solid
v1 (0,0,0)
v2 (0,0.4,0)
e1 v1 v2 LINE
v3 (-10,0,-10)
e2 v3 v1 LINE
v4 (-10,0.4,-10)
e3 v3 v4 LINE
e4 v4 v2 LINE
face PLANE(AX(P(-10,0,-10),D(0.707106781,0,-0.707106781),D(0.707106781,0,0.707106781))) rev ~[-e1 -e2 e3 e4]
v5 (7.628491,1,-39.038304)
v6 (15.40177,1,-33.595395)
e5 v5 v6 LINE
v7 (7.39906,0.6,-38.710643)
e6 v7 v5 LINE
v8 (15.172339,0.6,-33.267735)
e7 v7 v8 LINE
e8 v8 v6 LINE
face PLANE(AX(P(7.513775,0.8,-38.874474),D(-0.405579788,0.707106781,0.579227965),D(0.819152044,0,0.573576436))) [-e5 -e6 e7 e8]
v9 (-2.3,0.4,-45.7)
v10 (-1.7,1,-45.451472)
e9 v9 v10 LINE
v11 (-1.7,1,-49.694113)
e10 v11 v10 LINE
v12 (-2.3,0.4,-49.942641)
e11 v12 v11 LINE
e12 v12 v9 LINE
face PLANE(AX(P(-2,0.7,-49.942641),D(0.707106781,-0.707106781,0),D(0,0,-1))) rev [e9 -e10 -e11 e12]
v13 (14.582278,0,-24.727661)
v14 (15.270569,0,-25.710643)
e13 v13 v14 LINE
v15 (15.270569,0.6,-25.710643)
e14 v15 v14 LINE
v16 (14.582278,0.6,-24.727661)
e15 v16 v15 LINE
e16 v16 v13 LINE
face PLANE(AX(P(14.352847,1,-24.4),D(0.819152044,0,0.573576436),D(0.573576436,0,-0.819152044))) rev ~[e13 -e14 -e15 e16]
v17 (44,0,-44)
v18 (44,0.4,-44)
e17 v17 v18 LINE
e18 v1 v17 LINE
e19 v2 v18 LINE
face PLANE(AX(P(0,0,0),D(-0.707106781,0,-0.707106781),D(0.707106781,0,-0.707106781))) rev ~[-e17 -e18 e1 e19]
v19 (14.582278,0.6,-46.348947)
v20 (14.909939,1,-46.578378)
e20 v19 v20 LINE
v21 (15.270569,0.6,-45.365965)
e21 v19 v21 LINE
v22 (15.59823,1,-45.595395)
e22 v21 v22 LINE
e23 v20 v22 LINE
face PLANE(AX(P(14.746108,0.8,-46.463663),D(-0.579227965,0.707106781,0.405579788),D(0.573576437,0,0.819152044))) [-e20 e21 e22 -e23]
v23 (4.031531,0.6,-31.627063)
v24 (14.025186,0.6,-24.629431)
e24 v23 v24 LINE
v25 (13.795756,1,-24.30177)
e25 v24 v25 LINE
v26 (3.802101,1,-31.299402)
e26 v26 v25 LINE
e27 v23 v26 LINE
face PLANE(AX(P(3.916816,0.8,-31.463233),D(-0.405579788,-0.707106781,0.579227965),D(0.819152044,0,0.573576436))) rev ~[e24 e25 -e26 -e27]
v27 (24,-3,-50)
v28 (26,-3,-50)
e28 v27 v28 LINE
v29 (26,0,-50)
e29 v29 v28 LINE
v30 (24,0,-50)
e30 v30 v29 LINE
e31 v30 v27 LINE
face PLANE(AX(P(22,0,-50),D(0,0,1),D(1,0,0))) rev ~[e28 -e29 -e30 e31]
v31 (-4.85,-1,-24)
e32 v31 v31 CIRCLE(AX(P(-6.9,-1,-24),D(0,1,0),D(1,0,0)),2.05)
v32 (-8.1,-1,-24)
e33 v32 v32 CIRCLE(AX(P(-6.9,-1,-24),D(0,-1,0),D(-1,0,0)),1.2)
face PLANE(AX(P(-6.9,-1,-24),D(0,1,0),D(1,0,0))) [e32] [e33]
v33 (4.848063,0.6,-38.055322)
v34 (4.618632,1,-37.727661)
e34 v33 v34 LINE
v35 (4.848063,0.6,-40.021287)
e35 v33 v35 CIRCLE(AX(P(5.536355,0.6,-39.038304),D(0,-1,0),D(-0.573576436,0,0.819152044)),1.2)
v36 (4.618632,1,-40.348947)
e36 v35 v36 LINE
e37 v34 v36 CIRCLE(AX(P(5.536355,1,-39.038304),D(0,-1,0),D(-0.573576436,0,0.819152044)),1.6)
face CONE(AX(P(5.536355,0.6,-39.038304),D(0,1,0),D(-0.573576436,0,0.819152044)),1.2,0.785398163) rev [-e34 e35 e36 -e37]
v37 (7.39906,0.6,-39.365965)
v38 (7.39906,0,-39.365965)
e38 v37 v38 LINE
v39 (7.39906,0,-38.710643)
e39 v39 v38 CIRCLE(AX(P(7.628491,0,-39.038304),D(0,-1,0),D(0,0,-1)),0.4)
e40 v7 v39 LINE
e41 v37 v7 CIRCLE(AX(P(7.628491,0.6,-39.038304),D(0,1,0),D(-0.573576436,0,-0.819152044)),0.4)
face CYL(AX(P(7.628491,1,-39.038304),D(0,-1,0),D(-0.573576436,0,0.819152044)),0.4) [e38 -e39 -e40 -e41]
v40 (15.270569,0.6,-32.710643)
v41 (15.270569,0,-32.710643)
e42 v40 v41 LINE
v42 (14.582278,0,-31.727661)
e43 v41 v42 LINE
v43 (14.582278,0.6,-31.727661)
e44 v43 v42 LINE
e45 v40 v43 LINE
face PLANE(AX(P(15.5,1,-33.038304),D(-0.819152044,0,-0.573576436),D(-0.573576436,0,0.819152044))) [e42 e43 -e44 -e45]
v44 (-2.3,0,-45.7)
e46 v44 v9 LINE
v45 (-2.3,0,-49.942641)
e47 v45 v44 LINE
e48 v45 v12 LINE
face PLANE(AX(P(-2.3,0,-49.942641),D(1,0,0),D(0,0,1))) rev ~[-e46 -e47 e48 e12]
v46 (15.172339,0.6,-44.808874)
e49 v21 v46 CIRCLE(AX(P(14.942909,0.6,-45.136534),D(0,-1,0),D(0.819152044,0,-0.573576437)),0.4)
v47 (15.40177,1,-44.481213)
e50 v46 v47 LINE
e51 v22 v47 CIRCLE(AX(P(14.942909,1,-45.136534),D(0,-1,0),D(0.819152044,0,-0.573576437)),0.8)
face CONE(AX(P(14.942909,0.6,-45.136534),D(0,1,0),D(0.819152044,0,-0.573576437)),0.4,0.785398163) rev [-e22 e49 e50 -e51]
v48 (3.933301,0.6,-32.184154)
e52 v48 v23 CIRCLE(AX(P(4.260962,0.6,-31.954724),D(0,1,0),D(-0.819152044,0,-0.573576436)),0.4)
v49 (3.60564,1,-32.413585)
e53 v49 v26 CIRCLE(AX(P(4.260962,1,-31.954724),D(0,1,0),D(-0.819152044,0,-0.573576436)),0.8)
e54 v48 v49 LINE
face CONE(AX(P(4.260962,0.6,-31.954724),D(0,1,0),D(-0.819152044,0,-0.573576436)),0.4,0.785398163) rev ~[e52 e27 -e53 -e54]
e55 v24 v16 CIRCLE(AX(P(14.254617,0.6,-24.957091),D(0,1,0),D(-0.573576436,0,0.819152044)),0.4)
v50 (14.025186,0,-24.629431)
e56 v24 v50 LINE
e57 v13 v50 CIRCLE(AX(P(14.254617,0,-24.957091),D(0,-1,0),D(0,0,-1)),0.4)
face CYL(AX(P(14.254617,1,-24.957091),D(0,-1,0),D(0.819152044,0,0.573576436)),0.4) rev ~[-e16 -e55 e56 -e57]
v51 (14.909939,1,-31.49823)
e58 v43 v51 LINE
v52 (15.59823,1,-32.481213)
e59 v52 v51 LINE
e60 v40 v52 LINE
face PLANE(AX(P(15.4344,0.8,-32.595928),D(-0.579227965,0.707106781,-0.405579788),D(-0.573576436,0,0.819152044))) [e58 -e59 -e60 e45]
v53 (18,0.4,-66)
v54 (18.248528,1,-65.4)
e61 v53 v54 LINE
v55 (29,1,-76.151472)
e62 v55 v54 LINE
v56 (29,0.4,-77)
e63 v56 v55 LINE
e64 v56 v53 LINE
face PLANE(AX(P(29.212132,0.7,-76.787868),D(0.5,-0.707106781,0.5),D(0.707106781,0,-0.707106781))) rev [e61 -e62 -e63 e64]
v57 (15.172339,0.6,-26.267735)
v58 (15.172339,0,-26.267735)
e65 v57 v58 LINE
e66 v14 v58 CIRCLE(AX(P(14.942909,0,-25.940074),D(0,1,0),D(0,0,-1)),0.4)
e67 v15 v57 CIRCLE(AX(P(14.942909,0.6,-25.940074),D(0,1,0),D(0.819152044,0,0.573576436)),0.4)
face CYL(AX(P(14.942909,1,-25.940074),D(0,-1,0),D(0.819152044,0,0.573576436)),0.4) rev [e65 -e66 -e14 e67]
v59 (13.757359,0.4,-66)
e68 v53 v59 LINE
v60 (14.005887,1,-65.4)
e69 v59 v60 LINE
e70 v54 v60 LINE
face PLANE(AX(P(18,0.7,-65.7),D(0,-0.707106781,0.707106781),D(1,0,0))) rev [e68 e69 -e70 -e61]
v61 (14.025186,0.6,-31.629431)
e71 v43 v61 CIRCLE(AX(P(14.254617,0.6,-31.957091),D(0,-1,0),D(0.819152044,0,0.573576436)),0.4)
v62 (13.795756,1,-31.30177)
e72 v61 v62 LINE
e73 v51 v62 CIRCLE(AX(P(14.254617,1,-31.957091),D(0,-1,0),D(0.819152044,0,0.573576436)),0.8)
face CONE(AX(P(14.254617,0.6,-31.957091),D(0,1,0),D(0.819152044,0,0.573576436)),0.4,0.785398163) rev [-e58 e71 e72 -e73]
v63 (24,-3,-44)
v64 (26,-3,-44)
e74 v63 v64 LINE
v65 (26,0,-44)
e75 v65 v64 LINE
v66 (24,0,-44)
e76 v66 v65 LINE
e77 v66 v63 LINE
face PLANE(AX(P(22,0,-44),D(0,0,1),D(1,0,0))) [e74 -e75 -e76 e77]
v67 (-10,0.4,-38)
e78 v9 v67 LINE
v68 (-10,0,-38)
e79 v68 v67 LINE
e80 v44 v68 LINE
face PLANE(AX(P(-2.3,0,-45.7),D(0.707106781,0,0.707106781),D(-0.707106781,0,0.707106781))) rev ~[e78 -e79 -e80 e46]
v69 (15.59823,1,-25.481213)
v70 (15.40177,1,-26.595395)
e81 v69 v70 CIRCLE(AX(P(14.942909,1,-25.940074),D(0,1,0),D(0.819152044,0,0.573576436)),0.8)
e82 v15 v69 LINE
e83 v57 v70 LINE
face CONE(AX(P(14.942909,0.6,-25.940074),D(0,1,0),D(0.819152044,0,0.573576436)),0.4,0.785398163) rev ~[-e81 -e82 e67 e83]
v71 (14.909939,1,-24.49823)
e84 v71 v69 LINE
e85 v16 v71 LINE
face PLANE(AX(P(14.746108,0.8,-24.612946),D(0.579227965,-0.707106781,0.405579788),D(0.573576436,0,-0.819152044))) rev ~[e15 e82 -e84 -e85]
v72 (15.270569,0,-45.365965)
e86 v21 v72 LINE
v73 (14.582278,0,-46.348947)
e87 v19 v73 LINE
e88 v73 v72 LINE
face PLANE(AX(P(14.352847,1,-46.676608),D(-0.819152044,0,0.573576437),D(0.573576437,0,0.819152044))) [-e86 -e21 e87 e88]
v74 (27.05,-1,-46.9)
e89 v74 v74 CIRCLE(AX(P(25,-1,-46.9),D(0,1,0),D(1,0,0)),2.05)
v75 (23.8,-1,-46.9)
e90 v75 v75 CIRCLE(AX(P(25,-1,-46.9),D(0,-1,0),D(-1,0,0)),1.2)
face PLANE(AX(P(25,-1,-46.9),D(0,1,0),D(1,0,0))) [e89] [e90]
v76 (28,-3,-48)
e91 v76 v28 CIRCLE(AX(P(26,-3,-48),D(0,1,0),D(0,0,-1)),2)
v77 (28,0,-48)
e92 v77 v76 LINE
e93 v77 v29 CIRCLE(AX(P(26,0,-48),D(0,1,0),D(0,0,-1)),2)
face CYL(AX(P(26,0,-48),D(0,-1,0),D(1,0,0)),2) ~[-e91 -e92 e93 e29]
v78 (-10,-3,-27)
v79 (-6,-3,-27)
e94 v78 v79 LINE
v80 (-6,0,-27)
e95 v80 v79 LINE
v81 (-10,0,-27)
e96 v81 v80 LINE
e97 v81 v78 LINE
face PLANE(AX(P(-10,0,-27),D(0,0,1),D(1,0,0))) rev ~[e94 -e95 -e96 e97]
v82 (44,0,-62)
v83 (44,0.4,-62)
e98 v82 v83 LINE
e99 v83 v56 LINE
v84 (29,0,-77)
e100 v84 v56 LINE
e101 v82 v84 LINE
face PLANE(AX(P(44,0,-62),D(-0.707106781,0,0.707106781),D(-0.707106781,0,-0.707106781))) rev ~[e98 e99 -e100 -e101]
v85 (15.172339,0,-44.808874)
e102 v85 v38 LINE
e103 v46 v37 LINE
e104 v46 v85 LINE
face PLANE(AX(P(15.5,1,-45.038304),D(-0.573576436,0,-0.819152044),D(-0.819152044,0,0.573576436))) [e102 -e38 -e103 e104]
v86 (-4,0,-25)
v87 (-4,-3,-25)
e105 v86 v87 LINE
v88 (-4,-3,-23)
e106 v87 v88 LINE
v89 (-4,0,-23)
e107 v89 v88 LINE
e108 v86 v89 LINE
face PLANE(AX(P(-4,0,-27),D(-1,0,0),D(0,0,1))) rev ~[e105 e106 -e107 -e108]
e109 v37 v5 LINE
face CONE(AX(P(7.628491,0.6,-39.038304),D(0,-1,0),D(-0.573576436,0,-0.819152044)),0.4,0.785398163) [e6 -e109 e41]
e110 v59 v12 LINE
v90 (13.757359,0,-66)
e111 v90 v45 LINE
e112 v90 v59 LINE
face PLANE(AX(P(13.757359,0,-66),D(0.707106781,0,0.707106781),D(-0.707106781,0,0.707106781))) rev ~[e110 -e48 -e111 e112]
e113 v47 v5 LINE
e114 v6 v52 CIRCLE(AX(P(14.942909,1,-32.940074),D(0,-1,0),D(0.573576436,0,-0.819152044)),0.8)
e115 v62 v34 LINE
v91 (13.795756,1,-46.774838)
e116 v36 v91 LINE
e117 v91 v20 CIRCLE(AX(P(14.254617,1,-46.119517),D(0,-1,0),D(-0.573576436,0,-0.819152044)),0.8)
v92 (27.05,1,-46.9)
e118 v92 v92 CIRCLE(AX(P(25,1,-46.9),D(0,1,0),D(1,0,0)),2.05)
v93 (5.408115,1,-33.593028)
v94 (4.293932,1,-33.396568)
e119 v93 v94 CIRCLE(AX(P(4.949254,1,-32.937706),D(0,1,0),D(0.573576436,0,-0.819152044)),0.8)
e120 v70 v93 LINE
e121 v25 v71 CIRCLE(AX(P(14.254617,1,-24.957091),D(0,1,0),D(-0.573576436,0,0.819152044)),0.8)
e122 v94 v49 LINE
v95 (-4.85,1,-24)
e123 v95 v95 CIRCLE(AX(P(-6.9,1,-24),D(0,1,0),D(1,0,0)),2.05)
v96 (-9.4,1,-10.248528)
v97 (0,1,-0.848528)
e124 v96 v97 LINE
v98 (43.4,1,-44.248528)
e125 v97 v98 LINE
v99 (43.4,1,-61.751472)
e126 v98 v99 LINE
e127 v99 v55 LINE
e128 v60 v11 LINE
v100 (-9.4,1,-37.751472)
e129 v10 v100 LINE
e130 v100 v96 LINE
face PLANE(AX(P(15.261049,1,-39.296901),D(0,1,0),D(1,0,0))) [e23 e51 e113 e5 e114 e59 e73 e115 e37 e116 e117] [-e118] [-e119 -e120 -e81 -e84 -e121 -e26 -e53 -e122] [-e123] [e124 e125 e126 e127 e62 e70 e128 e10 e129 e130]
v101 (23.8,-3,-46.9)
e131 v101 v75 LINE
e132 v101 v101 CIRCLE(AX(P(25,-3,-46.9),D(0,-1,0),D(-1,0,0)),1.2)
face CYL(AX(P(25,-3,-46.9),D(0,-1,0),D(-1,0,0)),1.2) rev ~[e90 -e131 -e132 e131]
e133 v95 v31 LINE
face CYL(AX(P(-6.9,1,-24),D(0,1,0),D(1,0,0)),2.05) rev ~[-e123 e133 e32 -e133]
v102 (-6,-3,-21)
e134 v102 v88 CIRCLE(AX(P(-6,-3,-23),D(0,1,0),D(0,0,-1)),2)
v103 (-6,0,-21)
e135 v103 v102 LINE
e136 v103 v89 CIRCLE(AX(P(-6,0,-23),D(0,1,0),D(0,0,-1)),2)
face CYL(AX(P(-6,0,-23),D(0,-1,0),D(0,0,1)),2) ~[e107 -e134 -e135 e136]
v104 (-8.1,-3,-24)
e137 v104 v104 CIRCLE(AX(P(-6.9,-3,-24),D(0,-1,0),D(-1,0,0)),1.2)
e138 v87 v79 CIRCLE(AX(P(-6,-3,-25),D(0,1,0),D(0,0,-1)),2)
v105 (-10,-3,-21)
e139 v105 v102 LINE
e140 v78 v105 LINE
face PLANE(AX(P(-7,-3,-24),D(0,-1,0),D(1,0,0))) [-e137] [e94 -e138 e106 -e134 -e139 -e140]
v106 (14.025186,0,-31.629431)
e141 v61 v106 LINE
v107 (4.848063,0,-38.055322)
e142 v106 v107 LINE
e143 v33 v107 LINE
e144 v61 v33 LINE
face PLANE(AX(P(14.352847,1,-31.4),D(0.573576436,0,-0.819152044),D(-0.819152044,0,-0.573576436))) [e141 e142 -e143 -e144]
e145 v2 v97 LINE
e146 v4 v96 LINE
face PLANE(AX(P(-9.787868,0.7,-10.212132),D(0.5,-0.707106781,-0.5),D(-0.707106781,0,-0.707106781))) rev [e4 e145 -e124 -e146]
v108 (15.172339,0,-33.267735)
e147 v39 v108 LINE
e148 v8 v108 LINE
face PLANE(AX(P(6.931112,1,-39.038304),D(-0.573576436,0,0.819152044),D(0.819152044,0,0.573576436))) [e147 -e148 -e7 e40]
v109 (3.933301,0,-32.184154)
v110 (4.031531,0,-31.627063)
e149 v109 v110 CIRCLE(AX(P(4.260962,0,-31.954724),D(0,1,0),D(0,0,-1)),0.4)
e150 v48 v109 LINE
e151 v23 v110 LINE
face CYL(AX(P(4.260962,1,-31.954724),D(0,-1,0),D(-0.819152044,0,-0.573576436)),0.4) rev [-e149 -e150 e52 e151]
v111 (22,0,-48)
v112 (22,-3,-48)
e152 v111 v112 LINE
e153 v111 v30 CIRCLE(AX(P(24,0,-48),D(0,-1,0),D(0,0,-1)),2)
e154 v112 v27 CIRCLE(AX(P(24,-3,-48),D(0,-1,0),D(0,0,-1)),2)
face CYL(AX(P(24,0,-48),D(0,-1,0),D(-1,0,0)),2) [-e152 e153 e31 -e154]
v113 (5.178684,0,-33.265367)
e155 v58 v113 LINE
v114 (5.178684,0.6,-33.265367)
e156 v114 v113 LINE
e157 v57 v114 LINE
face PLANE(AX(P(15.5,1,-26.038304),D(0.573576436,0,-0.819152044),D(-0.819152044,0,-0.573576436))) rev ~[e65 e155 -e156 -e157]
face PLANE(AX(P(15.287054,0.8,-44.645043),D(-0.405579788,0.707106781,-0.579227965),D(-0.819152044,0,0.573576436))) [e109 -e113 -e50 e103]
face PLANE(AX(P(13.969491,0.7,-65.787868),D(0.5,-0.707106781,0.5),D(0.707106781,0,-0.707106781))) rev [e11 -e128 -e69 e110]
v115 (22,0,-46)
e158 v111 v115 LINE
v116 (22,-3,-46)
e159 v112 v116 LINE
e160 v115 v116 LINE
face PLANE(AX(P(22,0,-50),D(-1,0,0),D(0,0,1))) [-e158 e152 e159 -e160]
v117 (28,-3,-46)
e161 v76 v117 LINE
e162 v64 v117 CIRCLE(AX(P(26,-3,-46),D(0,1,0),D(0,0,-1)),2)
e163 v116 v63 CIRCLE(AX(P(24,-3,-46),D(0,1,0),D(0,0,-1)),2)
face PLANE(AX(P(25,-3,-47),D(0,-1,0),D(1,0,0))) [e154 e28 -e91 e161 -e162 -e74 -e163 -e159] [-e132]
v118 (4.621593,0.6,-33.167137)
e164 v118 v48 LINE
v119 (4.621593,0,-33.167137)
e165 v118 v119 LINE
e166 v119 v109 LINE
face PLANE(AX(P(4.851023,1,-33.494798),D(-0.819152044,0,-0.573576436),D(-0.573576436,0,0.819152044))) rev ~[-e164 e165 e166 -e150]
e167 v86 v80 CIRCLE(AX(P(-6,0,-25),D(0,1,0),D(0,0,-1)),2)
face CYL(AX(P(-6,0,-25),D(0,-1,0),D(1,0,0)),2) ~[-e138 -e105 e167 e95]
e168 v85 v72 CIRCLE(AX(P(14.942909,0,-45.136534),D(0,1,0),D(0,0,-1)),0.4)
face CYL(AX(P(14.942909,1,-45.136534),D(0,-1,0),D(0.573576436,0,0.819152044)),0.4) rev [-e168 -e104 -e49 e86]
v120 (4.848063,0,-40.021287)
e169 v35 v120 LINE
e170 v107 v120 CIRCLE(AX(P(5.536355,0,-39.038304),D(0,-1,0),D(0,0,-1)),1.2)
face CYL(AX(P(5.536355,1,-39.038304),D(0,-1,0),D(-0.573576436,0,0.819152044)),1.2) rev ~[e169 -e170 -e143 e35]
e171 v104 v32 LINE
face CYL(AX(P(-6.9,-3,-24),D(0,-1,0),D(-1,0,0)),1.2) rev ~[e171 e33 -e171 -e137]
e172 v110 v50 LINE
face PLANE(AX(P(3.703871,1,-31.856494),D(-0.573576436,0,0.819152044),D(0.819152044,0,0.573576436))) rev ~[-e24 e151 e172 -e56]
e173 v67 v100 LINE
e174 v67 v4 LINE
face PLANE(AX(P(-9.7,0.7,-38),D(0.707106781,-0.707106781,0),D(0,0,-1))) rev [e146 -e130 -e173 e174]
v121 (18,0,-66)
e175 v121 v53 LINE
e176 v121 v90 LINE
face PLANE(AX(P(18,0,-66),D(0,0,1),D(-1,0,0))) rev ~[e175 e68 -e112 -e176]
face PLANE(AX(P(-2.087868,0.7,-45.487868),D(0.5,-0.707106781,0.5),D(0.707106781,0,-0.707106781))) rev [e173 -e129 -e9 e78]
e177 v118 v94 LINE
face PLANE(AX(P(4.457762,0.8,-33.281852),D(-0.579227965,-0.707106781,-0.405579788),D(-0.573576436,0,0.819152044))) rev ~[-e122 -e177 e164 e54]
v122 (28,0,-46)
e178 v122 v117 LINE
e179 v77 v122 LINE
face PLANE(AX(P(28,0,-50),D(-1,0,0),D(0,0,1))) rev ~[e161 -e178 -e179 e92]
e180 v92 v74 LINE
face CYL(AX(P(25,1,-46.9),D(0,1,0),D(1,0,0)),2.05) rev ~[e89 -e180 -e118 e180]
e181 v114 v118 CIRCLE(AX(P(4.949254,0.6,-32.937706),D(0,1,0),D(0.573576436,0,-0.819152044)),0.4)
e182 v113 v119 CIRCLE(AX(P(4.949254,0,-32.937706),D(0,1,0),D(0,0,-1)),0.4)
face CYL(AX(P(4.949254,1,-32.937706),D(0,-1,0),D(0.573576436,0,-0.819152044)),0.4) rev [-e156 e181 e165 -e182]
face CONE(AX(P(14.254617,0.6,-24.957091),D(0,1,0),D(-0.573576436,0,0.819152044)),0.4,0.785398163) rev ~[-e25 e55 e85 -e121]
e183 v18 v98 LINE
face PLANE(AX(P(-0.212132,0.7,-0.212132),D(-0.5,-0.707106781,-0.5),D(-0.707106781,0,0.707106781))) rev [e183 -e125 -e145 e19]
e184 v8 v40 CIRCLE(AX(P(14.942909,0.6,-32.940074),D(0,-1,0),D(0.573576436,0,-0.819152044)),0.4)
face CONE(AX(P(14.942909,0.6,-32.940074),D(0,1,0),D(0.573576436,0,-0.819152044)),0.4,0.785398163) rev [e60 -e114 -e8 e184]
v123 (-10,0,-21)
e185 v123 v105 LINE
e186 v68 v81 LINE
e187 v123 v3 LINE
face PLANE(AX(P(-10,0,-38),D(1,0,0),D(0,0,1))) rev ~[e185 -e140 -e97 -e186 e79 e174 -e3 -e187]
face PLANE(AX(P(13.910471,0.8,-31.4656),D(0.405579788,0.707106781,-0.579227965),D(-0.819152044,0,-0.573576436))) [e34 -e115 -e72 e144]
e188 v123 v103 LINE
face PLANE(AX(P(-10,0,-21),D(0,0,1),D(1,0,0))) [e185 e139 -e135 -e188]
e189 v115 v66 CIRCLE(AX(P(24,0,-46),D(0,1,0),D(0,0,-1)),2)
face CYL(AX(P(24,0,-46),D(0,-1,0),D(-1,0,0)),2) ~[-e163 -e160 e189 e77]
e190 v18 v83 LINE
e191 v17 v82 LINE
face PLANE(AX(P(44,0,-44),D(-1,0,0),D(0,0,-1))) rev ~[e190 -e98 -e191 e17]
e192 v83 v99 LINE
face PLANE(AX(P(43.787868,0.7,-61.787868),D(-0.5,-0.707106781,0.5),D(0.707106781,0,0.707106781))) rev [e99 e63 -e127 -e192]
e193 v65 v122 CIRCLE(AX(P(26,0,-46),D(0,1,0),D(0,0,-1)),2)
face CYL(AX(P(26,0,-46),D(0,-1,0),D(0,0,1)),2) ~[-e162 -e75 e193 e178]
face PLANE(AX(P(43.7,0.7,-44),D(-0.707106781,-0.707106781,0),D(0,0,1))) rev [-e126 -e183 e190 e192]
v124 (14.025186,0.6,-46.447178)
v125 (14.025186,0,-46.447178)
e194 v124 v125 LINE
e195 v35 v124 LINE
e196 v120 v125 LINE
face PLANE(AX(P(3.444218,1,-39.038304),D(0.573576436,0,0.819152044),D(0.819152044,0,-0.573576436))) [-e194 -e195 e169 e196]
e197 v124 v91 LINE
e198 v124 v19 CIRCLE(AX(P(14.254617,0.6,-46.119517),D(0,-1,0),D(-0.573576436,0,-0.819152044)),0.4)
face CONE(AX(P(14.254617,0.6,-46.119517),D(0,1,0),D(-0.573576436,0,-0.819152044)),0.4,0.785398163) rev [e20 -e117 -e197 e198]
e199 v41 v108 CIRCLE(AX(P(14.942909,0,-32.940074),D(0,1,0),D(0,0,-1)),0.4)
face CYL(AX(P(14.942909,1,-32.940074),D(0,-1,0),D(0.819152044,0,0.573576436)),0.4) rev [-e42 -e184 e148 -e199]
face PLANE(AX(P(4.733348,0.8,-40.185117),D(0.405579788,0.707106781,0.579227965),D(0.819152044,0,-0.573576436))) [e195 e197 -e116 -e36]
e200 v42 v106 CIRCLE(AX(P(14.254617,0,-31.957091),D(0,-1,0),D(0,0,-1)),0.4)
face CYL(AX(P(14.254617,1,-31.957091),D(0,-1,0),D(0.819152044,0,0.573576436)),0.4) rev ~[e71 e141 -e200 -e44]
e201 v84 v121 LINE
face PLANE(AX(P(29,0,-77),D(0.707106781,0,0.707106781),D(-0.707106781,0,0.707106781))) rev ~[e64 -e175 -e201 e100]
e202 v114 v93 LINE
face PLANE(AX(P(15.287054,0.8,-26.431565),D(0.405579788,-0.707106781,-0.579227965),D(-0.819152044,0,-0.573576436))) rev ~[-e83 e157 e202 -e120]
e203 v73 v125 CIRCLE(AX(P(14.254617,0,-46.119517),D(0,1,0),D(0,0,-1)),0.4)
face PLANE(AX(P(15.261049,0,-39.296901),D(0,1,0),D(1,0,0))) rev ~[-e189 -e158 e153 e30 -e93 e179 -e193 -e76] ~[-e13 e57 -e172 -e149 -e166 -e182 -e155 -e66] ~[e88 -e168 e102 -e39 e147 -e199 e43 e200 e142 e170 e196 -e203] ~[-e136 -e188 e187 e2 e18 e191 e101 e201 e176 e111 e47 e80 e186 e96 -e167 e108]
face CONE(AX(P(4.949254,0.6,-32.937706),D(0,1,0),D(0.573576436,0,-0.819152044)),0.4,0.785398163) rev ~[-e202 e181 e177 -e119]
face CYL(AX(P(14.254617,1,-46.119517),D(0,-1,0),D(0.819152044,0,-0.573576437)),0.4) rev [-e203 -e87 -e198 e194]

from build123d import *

# Parameters (mm, degrees)
EXTRUDE_1_DEPTH     = 1
CHAMFER_1_SIZE      = 0.6
SKETCH_2_W          = 6
SKETCH_2_H          = 6
EXTRUDE_2_DEPTH     = 3
SKETCH_3_R          = 1.2
CUT_EXTRUDE_1_DEPTH = 5
SKETCH_4_R          = 2.05
CUT_EXTRUDE_2_DEPTH = 2
FILLET_1_R          = 2
CUT_EXTRUDE_3_DEPTH = 5
FILLET_2_R          = 0.4
FILLET_3_R          = 1.2
CHAMFER_2_SIZE      = 0.4


with BuildPart() as part:
    # 草图1 → 凸台-拉伸1 (new body)
    with BuildSketch(Plane(origin=(0, 0, 0), x_dir=(1, 0, 0), z_dir=(0, 1, 0))):
        Polygon((0, 0), (44, 44), (44, 62), (29, 77), (18, 66), (13.757359313, 66), (-2.3, 49.942640687), (-2.3, 45.7), (-10, 38), (-10, 10), align=None)
    extrude(amount=EXTRUDE_1_DEPTH)

    # 倒角1
    chamfer_1_edges = [part.edges().sort_by_distance(p)[0] for p in [
        (44, 1, -53),
        (36.5, 1, -69.5),
        (23.5, 1, -71.5),
        (15.878679656, 1, -66),
        (5.728679656, 1, -57.971320344),
        (-2.3, 1, -47.821320344),
        (-6.15, 1, -41.85),
        (-10, 1, -24),
        (-5, 1, -5),
        (22, 1, -22),
    ]]
    chamfer(chamfer_1_edges, length=CHAMFER_1_SIZE)

    # 草图2 → 凸台-拉伸2 (add)
    with BuildSketch(Plane.XZ):
        with Locations((-7, -24)):
            Rectangle(SKETCH_2_W, SKETCH_2_H)
        with Locations((25, -47)):
            Rectangle(SKETCH_2_W, SKETCH_2_H)
    extrude(amount=EXTRUDE_2_DEPTH)

    # 草图3 → 切除-拉伸1 (cut, through all)
    with BuildSketch(Plane(origin=(0, -3, 0), x_dir=(-1, 0, 0), z_dir=(0, -1, 0))):
        with Locations((6.9, 24)):
            Circle(SKETCH_3_R)
        with Locations((-25, 46.9)):
            Circle(SKETCH_3_R)
    extrude(amount=-CUT_EXTRUDE_1_DEPTH, mode=Mode.SUBTRACT)

    # 草图4 → 切除-拉伸2 (cut)
    with BuildSketch(Plane(origin=(0, 1, 0), x_dir=(1, 0, 0), z_dir=(0, 1, 0))):
        with Locations((-6.9, 24)):
            Circle(SKETCH_4_R)
        with Locations((25, 46.9)):
            Circle(SKETCH_4_R)
    extrude(amount=-CUT_EXTRUDE_2_DEPTH, mode=Mode.SUBTRACT)

    # 圆角1
    fillet_1_edges = [part.edges().sort_by_distance(p)[0] for p in [
        (-4, -1.5, -27),
        (-4, -1.5, -21),
        (22, -1.5, -44),
        (22, -1.5, -50),
        (28, -1.5, -50),
        (28, -1.5, -44),
    ]]
    fillet(fillet_1_edges, radius=FILLET_1_R)

    # 草图5 → 切除-拉伸3 (cut, through all)
    with BuildSketch(Plane(origin=(0, 1, 0), x_dir=(1, 0, 0), z_dir=(0, 1, 0))):
        Polygon((14.352847127, 24.4), (15.5, 26.038304089), (4.851023424, 33.494797761), (3.703870552, 31.856493673), align=None)
        Polygon((14.352847127, 31.4), (3.444218368, 39.038304089), (14.352847127, 46.676608177), (15.5, 45.038304089), (6.93111196, 39.038304089), (15.5, 33.038304089), align=None)
    extrude(amount=-CUT_EXTRUDE_3_DEPTH, mode=Mode.SUBTRACT)

    # 圆角2
    fillet_2_edges = [part.edges().sort_by_distance(p)[0] for p in [
        (14.352847127, 0.5, -24.4),
        (3.703870552, 0.5, -31.856493673),
        (4.851023424, 0.5, -33.494797761),
        (15.5, 0.5, -26.038304089),
        (15.5, 0.5, -33.038304089),
        (14.352847127, 0.5, -31.4),
        (14.352847127, 0.5, -46.676608177),
        (15.5, 0.5, -45.038304089),
        (6.93111196, 0.5, -39.038304089),
    ]]
    fillet(fillet_2_edges, radius=FILLET_2_R)

    # 圆角3
    fillet_3_edges = [part.edges().sort_by_distance(p)[0] for p in [
        (3.444218368, 0.5, -39.038304089),
    ]]
    fillet(fillet_3_edges, radius=FILLET_3_R)

    # 倒角2
    chamfer_2_edges = [part.edges().sort_by_distance(p)[0] for p in [
        (11.285699643, 1, -42.08741921),
        (9.028358839, 1, -28.128246836),
        (4.277446988, 1, -32.675645717),
        (10.175511712, 1, -29.766550925),
        (14.926423564, 1, -25.219152044),
        (14.926423564, 1, -32.219152044),
        (9.436624555, 1, -43.234232072),
        (14.926423564, 1, -45.857456133),
        (11.285699643, 1, -35.989188967),
        (7.228490678, 1, -39.038304089),
        (14.324076155, 1, -46.513439886),
        (15.336831709, 1, -45.067075061),
        (15.336831709, 1, -33.009533116),
        (14.324076155, 1, -31.563168291),
        (15.336831709, 1, -26.009533116),
        (14.324076155, 1, -24.563168291),
        (4.879794396, 1, -33.33162947),
        (3.867038843, 1, -31.885264645),
        (9.436624555, 1, -34.842376105),
        (4.336354523, 1, -39.038304089),
    ]]
    chamfer(chamfer_2_edges, length=CHAMFER_2_SIZE)


solid = part.part
